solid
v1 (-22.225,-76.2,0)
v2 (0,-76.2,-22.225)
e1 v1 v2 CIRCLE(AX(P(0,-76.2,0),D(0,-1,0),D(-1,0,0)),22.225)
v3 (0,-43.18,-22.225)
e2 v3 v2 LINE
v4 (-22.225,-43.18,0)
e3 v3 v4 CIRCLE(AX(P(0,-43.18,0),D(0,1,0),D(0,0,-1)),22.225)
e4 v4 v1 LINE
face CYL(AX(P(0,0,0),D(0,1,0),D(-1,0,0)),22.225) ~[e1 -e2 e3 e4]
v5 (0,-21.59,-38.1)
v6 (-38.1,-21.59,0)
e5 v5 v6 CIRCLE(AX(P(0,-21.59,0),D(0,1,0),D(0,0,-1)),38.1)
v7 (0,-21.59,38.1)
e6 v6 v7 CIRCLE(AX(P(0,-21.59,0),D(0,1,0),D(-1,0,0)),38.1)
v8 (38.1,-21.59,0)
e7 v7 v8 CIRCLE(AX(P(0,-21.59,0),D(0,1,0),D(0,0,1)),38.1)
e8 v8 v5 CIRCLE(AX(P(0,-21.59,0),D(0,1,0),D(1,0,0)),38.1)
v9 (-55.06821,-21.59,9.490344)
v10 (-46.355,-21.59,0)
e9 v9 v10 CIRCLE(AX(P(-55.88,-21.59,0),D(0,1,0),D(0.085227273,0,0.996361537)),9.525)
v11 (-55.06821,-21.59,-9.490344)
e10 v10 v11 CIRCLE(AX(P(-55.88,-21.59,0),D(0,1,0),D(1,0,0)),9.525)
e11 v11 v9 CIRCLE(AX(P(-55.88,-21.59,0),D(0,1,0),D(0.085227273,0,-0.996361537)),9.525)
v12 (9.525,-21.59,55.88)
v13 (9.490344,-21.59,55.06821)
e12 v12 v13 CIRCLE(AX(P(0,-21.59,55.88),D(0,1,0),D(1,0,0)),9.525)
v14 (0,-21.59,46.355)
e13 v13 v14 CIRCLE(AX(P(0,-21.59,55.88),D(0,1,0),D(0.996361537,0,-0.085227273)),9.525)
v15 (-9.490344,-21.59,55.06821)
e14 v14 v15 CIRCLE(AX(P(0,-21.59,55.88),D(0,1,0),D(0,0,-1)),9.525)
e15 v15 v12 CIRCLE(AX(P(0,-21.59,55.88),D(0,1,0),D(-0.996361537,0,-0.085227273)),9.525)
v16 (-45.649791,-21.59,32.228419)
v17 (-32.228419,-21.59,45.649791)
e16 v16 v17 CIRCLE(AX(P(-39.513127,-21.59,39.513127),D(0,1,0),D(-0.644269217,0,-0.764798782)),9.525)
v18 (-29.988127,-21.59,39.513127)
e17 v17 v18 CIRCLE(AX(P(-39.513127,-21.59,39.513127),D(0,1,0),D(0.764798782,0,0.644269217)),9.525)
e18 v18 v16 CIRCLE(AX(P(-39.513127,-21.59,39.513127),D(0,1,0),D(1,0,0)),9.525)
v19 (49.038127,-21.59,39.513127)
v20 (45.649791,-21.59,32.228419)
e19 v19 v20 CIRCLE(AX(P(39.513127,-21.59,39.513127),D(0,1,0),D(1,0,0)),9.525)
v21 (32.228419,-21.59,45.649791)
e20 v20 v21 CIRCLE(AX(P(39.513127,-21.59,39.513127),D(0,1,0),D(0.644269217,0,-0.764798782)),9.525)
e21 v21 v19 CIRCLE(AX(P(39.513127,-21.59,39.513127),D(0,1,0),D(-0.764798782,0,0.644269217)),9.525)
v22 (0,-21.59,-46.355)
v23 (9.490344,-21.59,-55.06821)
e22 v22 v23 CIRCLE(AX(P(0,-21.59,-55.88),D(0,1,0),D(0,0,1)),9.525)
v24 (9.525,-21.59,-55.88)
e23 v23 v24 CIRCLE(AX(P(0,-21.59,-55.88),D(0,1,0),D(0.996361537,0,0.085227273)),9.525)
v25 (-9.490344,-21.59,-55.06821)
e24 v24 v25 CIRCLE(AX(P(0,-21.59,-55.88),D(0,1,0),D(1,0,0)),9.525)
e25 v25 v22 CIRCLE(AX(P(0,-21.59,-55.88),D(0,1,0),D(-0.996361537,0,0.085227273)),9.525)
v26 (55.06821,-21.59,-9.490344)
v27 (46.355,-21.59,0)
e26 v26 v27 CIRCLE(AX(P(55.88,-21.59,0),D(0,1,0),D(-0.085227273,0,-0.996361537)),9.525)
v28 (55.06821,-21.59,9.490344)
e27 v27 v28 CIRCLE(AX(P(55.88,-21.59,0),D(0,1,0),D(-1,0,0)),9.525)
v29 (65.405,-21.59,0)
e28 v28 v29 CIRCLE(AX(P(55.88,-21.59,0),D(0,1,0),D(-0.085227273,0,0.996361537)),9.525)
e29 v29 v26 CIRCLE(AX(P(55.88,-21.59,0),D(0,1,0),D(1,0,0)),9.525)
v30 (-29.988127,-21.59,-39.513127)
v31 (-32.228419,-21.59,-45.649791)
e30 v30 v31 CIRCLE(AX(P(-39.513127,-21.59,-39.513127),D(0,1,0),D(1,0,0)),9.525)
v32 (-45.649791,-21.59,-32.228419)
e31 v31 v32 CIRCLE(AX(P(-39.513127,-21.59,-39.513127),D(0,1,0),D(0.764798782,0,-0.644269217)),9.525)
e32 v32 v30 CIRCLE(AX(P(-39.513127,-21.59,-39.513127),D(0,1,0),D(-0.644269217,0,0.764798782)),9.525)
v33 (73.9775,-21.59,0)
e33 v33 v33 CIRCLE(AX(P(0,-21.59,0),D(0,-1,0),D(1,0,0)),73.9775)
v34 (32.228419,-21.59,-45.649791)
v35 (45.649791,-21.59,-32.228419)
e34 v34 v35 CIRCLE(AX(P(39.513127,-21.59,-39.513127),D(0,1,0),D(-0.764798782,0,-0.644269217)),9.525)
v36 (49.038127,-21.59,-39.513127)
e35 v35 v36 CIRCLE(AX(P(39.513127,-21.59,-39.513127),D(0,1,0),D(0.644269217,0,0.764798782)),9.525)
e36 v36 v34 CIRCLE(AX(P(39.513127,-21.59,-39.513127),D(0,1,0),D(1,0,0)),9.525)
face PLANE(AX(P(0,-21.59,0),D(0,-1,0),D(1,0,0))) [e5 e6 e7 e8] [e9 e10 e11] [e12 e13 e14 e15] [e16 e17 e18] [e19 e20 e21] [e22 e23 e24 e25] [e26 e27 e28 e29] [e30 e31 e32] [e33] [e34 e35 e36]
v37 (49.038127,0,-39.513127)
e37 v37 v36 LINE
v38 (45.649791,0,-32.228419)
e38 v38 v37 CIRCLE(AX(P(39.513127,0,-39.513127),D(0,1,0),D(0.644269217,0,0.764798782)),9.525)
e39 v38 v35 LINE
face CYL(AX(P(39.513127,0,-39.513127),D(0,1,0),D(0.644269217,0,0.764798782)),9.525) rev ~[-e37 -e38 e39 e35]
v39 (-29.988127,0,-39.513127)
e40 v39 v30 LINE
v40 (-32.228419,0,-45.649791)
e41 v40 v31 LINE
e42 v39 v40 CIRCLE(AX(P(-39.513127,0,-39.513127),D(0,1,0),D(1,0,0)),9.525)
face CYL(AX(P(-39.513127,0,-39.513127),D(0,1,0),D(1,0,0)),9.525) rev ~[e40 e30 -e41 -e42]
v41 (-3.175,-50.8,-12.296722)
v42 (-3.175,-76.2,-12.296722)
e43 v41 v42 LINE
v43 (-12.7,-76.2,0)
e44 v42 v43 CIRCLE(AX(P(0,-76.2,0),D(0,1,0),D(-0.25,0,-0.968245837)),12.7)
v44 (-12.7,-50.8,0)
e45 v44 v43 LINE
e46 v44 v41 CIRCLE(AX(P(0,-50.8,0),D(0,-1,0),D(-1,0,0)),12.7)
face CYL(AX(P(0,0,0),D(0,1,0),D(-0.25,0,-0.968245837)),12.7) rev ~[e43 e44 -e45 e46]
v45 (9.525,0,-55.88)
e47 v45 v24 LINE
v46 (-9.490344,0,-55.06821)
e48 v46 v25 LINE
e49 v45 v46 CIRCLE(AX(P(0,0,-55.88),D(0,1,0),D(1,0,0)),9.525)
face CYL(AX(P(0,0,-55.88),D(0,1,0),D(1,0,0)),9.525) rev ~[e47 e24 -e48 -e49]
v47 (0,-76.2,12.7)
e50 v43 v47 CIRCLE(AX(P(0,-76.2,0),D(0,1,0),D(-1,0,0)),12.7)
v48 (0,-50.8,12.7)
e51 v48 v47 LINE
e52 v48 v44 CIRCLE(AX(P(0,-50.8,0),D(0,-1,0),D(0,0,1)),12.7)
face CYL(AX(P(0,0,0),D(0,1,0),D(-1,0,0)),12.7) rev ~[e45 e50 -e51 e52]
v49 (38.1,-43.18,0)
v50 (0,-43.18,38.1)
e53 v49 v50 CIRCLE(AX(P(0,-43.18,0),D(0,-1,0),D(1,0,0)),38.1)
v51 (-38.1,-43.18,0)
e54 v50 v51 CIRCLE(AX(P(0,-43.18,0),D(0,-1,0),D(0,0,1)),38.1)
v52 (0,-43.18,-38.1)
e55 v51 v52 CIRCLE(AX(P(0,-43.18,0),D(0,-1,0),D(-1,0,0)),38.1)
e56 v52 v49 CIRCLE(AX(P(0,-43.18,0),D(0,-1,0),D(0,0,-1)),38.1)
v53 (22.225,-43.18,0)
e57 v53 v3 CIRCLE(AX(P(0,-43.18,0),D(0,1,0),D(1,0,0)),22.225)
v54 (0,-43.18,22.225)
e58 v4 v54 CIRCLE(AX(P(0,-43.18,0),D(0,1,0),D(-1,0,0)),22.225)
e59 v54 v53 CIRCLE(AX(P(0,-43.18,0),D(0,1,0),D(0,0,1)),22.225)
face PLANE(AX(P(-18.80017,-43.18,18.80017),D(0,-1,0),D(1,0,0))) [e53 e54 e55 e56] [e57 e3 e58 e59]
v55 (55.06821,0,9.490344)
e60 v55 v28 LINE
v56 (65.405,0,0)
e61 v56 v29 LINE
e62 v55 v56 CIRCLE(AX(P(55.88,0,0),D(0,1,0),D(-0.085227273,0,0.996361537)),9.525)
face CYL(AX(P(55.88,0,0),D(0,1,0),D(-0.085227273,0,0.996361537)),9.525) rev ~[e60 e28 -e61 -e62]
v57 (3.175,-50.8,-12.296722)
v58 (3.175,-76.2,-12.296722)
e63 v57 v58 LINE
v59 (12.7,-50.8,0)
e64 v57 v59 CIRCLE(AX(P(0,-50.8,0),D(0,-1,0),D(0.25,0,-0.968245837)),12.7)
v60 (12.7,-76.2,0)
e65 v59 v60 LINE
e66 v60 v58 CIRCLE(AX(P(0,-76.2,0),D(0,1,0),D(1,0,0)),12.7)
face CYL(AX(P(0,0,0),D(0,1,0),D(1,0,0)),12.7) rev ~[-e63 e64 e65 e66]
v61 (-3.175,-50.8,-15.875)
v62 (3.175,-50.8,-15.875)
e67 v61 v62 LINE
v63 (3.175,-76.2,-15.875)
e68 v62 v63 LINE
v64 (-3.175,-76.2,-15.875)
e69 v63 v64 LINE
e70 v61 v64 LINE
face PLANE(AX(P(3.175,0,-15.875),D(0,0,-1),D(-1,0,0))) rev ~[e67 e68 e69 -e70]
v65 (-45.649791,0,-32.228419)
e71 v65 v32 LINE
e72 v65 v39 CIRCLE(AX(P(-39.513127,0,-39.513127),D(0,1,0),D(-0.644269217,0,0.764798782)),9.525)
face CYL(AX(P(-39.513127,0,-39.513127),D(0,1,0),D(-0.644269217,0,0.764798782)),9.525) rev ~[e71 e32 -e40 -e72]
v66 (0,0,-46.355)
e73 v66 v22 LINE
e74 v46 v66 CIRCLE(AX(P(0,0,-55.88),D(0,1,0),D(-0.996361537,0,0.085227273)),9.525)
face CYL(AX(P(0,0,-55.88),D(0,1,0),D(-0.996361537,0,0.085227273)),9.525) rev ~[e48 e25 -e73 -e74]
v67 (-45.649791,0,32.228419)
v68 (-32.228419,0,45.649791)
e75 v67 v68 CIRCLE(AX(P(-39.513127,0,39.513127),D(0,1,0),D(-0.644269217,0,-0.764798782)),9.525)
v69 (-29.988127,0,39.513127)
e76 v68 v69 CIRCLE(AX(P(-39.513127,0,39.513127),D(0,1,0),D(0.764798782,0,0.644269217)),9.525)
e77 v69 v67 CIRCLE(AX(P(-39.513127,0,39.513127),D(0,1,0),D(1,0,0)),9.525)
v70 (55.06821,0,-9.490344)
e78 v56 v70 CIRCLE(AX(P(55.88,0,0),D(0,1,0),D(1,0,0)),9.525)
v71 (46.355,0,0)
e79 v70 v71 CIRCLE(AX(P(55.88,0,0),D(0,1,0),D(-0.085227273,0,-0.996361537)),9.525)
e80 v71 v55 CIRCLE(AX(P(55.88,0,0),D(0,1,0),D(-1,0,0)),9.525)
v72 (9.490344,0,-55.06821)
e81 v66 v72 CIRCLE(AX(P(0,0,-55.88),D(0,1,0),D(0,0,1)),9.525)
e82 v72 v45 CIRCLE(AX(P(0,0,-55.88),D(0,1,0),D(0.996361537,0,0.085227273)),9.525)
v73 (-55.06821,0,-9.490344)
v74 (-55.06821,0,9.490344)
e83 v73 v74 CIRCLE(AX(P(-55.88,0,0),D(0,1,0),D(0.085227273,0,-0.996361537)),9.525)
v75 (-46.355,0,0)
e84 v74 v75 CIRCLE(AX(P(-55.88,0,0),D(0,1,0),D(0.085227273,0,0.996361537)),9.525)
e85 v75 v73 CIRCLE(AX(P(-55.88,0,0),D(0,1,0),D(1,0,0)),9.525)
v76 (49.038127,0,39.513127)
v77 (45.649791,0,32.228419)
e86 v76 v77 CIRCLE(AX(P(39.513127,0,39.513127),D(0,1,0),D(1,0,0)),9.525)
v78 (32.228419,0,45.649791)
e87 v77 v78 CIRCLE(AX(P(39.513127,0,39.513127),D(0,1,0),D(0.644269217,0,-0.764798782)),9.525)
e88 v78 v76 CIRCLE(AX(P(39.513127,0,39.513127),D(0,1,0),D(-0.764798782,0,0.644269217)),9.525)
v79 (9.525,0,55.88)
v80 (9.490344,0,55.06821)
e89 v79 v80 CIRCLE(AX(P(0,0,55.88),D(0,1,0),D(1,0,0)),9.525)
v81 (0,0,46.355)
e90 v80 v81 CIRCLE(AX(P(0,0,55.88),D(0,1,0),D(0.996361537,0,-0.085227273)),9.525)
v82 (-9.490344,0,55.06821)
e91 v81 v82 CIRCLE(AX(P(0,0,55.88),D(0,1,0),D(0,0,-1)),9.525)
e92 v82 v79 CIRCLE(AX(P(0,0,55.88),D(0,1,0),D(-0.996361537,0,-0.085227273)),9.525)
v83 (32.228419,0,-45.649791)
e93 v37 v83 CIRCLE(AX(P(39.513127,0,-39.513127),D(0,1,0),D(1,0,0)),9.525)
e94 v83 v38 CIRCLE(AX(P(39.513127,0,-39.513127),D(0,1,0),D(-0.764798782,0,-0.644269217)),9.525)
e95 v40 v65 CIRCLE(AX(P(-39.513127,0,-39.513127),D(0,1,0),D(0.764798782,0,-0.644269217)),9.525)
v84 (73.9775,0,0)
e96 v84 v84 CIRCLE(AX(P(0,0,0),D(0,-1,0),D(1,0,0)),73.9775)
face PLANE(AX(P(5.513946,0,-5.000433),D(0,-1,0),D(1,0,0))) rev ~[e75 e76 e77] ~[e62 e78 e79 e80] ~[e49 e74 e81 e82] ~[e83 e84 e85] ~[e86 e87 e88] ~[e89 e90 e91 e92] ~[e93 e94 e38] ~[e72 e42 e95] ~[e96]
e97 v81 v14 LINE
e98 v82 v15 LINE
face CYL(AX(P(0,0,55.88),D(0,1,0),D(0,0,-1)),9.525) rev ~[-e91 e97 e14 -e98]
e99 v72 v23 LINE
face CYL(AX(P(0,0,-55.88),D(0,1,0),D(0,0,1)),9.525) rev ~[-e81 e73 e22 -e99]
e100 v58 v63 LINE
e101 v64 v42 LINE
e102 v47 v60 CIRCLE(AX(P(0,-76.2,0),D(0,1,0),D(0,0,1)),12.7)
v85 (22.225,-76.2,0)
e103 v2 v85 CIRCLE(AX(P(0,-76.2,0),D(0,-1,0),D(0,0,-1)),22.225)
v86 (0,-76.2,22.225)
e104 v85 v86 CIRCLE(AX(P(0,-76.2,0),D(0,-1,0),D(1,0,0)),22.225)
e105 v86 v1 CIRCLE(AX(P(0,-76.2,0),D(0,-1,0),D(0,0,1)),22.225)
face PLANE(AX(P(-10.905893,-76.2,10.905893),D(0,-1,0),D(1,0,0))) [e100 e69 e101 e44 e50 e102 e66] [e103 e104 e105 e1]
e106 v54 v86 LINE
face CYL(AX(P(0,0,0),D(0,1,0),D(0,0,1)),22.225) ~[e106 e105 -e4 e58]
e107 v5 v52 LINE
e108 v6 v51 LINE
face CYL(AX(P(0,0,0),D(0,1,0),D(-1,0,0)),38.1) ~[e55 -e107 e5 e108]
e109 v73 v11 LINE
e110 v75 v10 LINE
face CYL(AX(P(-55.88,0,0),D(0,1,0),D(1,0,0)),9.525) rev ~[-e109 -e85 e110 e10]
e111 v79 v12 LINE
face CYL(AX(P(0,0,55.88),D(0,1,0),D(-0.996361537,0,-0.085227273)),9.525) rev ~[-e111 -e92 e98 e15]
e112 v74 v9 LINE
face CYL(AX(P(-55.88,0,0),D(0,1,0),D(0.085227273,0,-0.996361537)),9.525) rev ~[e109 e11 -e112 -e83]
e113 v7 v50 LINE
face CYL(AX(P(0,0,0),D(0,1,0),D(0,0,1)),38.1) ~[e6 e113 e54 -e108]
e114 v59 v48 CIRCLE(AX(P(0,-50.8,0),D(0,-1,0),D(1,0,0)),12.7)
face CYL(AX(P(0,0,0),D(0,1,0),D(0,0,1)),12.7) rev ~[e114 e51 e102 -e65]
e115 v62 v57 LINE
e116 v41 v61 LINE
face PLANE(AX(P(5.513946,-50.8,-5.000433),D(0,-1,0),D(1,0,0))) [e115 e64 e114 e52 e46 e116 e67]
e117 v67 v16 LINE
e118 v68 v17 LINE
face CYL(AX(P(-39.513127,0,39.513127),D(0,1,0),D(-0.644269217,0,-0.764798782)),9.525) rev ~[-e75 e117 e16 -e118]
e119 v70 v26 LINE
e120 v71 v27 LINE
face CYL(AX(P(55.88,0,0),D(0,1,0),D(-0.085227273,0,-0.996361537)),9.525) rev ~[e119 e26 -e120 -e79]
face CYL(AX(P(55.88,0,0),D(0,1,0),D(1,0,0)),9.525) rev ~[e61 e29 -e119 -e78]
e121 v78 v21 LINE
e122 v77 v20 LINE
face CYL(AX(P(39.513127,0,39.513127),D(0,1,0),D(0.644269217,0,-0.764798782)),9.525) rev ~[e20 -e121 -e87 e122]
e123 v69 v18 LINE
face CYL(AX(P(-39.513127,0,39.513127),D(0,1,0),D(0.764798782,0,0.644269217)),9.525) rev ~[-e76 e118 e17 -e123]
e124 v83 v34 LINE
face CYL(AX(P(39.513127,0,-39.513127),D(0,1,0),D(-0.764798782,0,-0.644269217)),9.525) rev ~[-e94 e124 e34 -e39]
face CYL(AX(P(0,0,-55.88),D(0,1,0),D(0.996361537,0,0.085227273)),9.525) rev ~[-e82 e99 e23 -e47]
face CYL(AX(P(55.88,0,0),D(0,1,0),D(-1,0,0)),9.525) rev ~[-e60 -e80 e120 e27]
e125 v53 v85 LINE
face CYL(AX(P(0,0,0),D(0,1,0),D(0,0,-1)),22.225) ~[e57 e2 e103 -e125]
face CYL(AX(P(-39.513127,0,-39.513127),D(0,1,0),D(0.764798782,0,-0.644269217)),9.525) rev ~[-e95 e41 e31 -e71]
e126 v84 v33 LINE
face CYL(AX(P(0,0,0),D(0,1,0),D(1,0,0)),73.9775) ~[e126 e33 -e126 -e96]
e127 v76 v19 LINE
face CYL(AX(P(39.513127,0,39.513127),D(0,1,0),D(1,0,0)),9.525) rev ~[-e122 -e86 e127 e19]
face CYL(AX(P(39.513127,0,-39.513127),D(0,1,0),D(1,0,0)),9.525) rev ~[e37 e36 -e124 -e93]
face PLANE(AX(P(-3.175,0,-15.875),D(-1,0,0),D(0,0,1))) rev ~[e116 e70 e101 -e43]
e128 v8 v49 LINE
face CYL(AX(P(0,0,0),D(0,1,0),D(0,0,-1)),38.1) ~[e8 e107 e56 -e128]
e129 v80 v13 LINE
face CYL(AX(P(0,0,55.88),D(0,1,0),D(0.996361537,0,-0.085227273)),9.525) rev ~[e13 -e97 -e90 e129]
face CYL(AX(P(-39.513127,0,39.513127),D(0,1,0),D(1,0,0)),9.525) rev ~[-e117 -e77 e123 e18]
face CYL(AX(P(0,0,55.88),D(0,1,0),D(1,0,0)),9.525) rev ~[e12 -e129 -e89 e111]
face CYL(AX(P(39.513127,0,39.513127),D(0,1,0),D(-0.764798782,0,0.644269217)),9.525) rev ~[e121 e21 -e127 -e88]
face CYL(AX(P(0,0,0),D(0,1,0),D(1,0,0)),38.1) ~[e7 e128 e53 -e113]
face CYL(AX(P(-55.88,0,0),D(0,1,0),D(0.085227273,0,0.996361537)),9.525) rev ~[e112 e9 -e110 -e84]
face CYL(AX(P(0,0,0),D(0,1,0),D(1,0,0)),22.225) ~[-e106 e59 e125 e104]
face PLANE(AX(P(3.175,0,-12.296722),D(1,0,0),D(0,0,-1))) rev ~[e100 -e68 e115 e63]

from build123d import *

# Parameters (mm, degrees)
F0_R     = 73.9775
F1_DEPTH = 21.59
F2_DEPTH = 43.18
F3_DEPTH = 76.2
F4_DEPTH = 50.8


with BuildPart() as f1:
    # F0 (on Front) → F1 (new body)
    with BuildSketch(Plane.XZ):
        Circle(F0_R)
        with BuildLine():
            ThreePointArc((45.6497912216, 32.2284185374), (51.6263882767, 21.3843502006), (55.0682102273, 9.4903436379))
            ThreePointArc((55.0682102273, 9.4903436379), (62.3217904116, 7.0163353179), (65.405, 0))
            ThreePointArc((65.405, 0), (62.3217904116, -7.0163353179), (55.0682102273, -9.4903436379))
            ThreePointArc((55.0682102273, -9.4903436379), (51.6263882767, -21.3843502006), (45.6497912216, -32.2284185374))
            ThreePointArc((45.6497912216, -32.2284185374), (48.1496005288, -35.4960448046), (49.0381269327, -39.5131269327))
            ThreePointArc((49.0381269327, -39.5131269327), (42.7795299647, -48.4605419914), (32.2284185374, -45.6497912216))
            ThreePointArc((32.2284185374, -45.6497912216), (21.3843502006, -51.6263882767), (9.4903436379, -55.0682102273))
            ThreePointArc((9.4903436379, -55.0682102273), (9.5163319654, -55.4737354007), (9.525, -55.88))
            ThreePointArc((9.525, -55.88), (-0.4062645993, -65.3963319654), (-9.4903436379, -55.0682102273))
            ThreePointArc((-9.4903436379, -55.0682102273), (-21.3843502006, -51.6263882767), (-32.2284185374, -45.6497912216))
            ThreePointArc((-32.2284185374, -45.6497912216), (-46.2483190235, -46.2483190235), (-45.6497912216, -32.2284185374))
            ThreePointArc((-45.6497912216, -32.2284185374), (-51.6263882767, -21.3843502006), (-55.0682102273, -9.4903436379))
            ThreePointArc((-55.0682102273, -9.4903436379), (-65.405, 0), (-55.0682102273, 9.4903436379))
            ThreePointArc((-55.0682102273, 9.4903436379), (-51.6263882767, 21.3843502006), (-45.6497912216, 32.2284185374))
            ThreePointArc((-45.6497912216, 32.2284185374), (-46.2483190235, 46.2483190235), (-32.2284185374, 45.6497912216))
            ThreePointArc((-32.2284185374, 45.6497912216), (-21.3843502006, 51.6263882767), (-9.4903436379, 55.0682102273))
            ThreePointArc((-9.4903436379, 55.0682102273), (-0.4062645993, 65.3963319654), (9.525, 55.88))
            ThreePointArc((9.525, 55.88), (9.5163319654, 55.4737354007), (9.4903436379, 55.0682102273))
            ThreePointArc((9.4903436379, 55.0682102273), (21.3843502006, 51.6263882767), (32.2284185374, 45.6497912216))
            ThreePointArc((32.2284185374, 45.6497912216), (42.7795299647, 48.4605419914), (49.0381269327, 39.5131269327))
            ThreePointArc((49.0381269327, 39.5131269327), (48.1496005288, 35.4960448046), (45.6497912216, 32.2284185374))
        make_face(mode=Mode.SUBTRACT)
        with BuildLine():
            ThreePointArc((0, 38.1), (26.9407683632, 26.9407683632), (38.1, 0))
            Line((38.1, 0), (46.355, 0))
            ThreePointArc((46.355, 0), (48.8636646821, 6.4417904116), (55.0682102273, 9.4903436379))
            ThreePointArc((55.0682102273, 9.4903436379), (51.6263882767, 21.3843502006), (45.6497912216, 32.2284185374))
            ThreePointArc((45.6497912216, 32.2284185374), (32.7779348419, 32.7779348419), (32.2284185374, 45.6497912216))
            ThreePointArc((32.2284185374, 45.6497912216), (21.3843502006, 51.6263882767), (9.4903436379, 55.0682102273))
            ThreePointArc((9.4903436379, 55.0682102273), (6.4417904116, 48.8636646821), (0, 46.355))
            Line((0, 46.355), (0, 38.1))
        make_face()
        with BuildLine():
            ThreePointArc((-38.1, 0), (-26.9407683632, 26.9407683632), (0, 38.1))
            Line((0, 38.1), (0, 46.355))
            ThreePointArc((0, 46.355), (-6.4417904116, 48.8636646821), (-9.4903436379, 55.0682102273))
            ThreePointArc((-9.4903436379, 55.0682102273), (-21.3843502006, 51.6263882767), (-32.2284185374, 45.6497912216))
            ThreePointArc((-32.2284185374, 45.6497912216), (-30.565711874, 42.7795299647), (-29.9881269327, 39.5131269327))
            ThreePointArc((-29.9881269327, 39.5131269327), (-35.4960448046, 30.8766533366), (-45.6497912216, 32.2284185374))
            ThreePointArc((-45.6497912216, 32.2284185374), (-51.6263882767, 21.3843502006), (-55.0682102273, 9.4903436379))
            ThreePointArc((-55.0682102273, 9.4903436379), (-48.8636646821, 6.4417904116), (-46.355, 0))
            Line((-46.355, 0), (-38.1, 0))
        make_face()
        with BuildLine():
            Line((0, -46.355), (0, -38.1))
            ThreePointArc((0, -38.1), (-26.9407683632, -26.9407683632), (-38.1, 0))
            Line((-38.1, 0), (-46.355, 0))
            ThreePointArc((-46.355, 0), (-48.8636646821, -6.4417904116), (-55.0682102273, -9.4903436379))
            ThreePointArc((-55.0682102273, -9.4903436379), (-51.6263882767, -21.3843502006), (-45.6497912216, -32.2284185374))
            ThreePointArc((-45.6497912216, -32.2284185374), (-35.4960448046, -30.8766533366), (-29.9881269327, -39.5131269327))
            ThreePointArc((-29.9881269327, -39.5131269327), (-30.565711874, -42.7795299647), (-32.2284185374, -45.6497912216))
            ThreePointArc((-32.2284185374, -45.6497912216), (-21.3843502006, -51.6263882767), (-9.4903436379, -55.0682102273))
            ThreePointArc((-9.4903436379, -55.0682102273), (-6.4417904116, -48.8636646821), (0, -46.355))
        make_face()
        with BuildLine():
            Line((46.355, 0), (38.1, 0))
            ThreePointArc((38.1, 0), (26.9407683632, -26.9407683632), (0, -38.1))
            Line((0, -38.1), (0, -46.355))
            ThreePointArc((0, -46.355), (6.4417904116, -48.8636646821), (9.4903436379, -55.0682102273))
            ThreePointArc((9.4903436379, -55.0682102273), (21.3843502006, -51.6263882767), (32.2284185374, -45.6497912216))
            ThreePointArc((32.2284185374, -45.6497912216), (32.7779348419, -32.7779348419), (45.6497912216, -32.2284185374))
            ThreePointArc((45.6497912216, -32.2284185374), (51.6263882767, -21.3843502006), (55.0682102273, -9.4903436379))
            ThreePointArc((55.0682102273, -9.4903436379), (48.8636646821, -6.4417904116), (46.355, 0))
        make_face()
    extrude(amount=F1_DEPTH)

    # F0 (on Front) → F2 (join)
    with BuildSketch(Plane.XZ):
        with BuildLine():
            ThreePointArc((-22.225, 0), (-15.7154482119, 15.7154482119), (0, 22.225))
            Line((0, 22.225), (0, 38.1))
            ThreePointArc((0, 38.1), (-26.9407683632, 26.9407683632), (-38.1, 0))
            Line((-38.1, 0), (-22.225, 0))
        make_face()
        with BuildLine():
            Line((0, -38.1), (0, -22.225))
            ThreePointArc((0, -22.225), (-15.7154482119, -15.7154482119), (-22.225, 0))
            Line((-22.225, 0), (-38.1, 0))
            ThreePointArc((-38.1, 0), (-26.9407683632, -26.9407683632), (0, -38.1))
        make_face()
        with BuildLine():
            Line((38.1, 0), (22.225, 0))
            ThreePointArc((22.225, 0), (15.7154482119, -15.7154482119), (0, -22.225))
            Line((0, -22.225), (0, -38.1))
            ThreePointArc((0, -38.1), (26.9407683632, -26.9407683632), (38.1, 0))
        make_face()
        with BuildLine():
            ThreePointArc((0, 22.225), (15.7154482119, 15.7154482119), (22.225, 0))
            Line((22.225, 0), (38.1, 0))
            ThreePointArc((38.1, 0), (26.9407683632, 26.9407683632), (0, 38.1))
            Line((0, 38.1), (0, 22.225))
        make_face()
    extrude(amount=F2_DEPTH)

    # F0 (on Front) → F3 (join)
    with BuildSketch(Plane.XZ):
        with BuildLine():
            ThreePointArc((-12.7, 0), (-8.9802561211, 8.9802561211), (0, 12.7))
            Line((0, 12.7), (0, 22.225))
            ThreePointArc((0, 22.225), (-15.7154482119, 15.7154482119), (-22.225, 0))
            Line((-22.225, 0), (-12.7, 0))
        make_face()
        with BuildLine():
            ThreePointArc((0, 12.7), (8.9802561211, 8.9802561211), (12.7, 0))
            Line((12.7, 0), (22.225, 0))
            ThreePointArc((22.225, 0), (15.7154482119, 15.7154482119), (0, 22.225))
            Line((0, 22.225), (0, 12.7))
        make_face()
        with BuildLine():
            Line((22.225, 0), (12.7, 0))
            ThreePointArc((12.7, 0), (10.040231571, -7.7771299333), (3.175, -12.2967221242))
            Line((3.175, -12.2967221242), (3.175, -15.875))
            Line((3.175, -15.875), (0, -15.875))
            Line((0, -15.875), (0, -22.225))
            ThreePointArc((0, -22.225), (15.7154482119, -15.7154482119), (22.225, 0))
        make_face()
        with BuildLine():
            ThreePointArc((-3.175, -12.2967221242), (-10.040231571, -7.7771299333), (-12.7, 0))
            Line((-12.7, 0), (-22.225, 0))
            ThreePointArc((-22.225, 0), (-15.7154482119, -15.7154482119), (0, -22.225))
            Line((0, -22.225), (0, -15.875))
            Line((0, -15.875), (-3.175, -15.875))
            Line((-3.175, -15.875), (-3.175, -12.2967221242))
        make_face()
    extrude(amount=F3_DEPTH)

    # F0 (on Front) → F4 (join)
    with BuildSketch(Plane.XZ):
        with BuildLine():
            ThreePointArc((3.175, -12.2967221242), (10.040231571, -7.7771299333), (12.7, 0))
            Line((12.7, 0), (0, 0))
            Line((0, 0), (0, -9.525))
            Line((0, -9.525), (3.175, -9.525))
            Line((3.175, -9.525), (3.175, -12.2967221242))
        make_face()
        with BuildLine():
            Line((0, -9.525), (0, 0))
            Line((0, 0), (-12.7, 0))
            ThreePointArc((-12.7, 0), (-10.040231571, -7.7771299333), (-3.175, -12.2967221242))
            Line((-3.175, -12.2967221242), (-3.175, -9.525))
            Line((-3.175, -9.525), (0, -9.525))
        make_face()
        with BuildLine():
            Line((0, 0), (0, 12.7))
            ThreePointArc((0, 12.7), (-8.9802561211, 8.9802561211), (-12.7, 0))
            Line((-12.7, 0), (0, 0))
        make_face()
        with BuildLine():
            Line((0, 0), (12.7, 0))
            ThreePointArc((12.7, 0), (8.9802561211, 8.9802561211), (0, 12.7))
            Line((0, 12.7), (0, 0))
        make_face()
        with BuildLine():
            Line((0, -15.875), (0, -12.7))
            ThreePointArc((0, -12.7), (-1.6002545145, -12.5987771426), (-3.175, -12.2967221242))
            Line((-3.175, -12.2967221242), (-3.175, -15.875))
            Line((-3.175, -15.875), (0, -15.875))
        make_face()
        with BuildLine():
            ThreePointArc((0, -12.7), (1.6002545145, -12.5987771426), (3.175, -12.2967221242))
            Line((3.175, -12.2967221242), (3.175, -9.525))
            Line((3.175, -9.525), (0, -9.525))
            Line((0, -9.525), (0, -12.7))
        make_face()
        with BuildLine():
            Line((3.175, -15.875), (3.175, -12.2967221242))
            ThreePointArc((3.175, -12.2967221242), (1.6002545145, -12.5987771426), (0, -12.7))
            Line((0, -12.7), (0, -15.875))
            Line((0, -15.875), (3.175, -15.875))
        make_face()
        with BuildLine():
            ThreePointArc((-3.175, -12.2967221242), (-1.6002545145, -12.5987771426), (0, -12.7))
            Line((0, -12.7), (0, -9.525))
            Line((0, -9.525), (-3.175, -9.525))
            Line((-3.175, -9.525), (-3.175, -12.2967221242))
        make_face()
    extrude(amount=F4_DEPTH)


solid = f1.part
